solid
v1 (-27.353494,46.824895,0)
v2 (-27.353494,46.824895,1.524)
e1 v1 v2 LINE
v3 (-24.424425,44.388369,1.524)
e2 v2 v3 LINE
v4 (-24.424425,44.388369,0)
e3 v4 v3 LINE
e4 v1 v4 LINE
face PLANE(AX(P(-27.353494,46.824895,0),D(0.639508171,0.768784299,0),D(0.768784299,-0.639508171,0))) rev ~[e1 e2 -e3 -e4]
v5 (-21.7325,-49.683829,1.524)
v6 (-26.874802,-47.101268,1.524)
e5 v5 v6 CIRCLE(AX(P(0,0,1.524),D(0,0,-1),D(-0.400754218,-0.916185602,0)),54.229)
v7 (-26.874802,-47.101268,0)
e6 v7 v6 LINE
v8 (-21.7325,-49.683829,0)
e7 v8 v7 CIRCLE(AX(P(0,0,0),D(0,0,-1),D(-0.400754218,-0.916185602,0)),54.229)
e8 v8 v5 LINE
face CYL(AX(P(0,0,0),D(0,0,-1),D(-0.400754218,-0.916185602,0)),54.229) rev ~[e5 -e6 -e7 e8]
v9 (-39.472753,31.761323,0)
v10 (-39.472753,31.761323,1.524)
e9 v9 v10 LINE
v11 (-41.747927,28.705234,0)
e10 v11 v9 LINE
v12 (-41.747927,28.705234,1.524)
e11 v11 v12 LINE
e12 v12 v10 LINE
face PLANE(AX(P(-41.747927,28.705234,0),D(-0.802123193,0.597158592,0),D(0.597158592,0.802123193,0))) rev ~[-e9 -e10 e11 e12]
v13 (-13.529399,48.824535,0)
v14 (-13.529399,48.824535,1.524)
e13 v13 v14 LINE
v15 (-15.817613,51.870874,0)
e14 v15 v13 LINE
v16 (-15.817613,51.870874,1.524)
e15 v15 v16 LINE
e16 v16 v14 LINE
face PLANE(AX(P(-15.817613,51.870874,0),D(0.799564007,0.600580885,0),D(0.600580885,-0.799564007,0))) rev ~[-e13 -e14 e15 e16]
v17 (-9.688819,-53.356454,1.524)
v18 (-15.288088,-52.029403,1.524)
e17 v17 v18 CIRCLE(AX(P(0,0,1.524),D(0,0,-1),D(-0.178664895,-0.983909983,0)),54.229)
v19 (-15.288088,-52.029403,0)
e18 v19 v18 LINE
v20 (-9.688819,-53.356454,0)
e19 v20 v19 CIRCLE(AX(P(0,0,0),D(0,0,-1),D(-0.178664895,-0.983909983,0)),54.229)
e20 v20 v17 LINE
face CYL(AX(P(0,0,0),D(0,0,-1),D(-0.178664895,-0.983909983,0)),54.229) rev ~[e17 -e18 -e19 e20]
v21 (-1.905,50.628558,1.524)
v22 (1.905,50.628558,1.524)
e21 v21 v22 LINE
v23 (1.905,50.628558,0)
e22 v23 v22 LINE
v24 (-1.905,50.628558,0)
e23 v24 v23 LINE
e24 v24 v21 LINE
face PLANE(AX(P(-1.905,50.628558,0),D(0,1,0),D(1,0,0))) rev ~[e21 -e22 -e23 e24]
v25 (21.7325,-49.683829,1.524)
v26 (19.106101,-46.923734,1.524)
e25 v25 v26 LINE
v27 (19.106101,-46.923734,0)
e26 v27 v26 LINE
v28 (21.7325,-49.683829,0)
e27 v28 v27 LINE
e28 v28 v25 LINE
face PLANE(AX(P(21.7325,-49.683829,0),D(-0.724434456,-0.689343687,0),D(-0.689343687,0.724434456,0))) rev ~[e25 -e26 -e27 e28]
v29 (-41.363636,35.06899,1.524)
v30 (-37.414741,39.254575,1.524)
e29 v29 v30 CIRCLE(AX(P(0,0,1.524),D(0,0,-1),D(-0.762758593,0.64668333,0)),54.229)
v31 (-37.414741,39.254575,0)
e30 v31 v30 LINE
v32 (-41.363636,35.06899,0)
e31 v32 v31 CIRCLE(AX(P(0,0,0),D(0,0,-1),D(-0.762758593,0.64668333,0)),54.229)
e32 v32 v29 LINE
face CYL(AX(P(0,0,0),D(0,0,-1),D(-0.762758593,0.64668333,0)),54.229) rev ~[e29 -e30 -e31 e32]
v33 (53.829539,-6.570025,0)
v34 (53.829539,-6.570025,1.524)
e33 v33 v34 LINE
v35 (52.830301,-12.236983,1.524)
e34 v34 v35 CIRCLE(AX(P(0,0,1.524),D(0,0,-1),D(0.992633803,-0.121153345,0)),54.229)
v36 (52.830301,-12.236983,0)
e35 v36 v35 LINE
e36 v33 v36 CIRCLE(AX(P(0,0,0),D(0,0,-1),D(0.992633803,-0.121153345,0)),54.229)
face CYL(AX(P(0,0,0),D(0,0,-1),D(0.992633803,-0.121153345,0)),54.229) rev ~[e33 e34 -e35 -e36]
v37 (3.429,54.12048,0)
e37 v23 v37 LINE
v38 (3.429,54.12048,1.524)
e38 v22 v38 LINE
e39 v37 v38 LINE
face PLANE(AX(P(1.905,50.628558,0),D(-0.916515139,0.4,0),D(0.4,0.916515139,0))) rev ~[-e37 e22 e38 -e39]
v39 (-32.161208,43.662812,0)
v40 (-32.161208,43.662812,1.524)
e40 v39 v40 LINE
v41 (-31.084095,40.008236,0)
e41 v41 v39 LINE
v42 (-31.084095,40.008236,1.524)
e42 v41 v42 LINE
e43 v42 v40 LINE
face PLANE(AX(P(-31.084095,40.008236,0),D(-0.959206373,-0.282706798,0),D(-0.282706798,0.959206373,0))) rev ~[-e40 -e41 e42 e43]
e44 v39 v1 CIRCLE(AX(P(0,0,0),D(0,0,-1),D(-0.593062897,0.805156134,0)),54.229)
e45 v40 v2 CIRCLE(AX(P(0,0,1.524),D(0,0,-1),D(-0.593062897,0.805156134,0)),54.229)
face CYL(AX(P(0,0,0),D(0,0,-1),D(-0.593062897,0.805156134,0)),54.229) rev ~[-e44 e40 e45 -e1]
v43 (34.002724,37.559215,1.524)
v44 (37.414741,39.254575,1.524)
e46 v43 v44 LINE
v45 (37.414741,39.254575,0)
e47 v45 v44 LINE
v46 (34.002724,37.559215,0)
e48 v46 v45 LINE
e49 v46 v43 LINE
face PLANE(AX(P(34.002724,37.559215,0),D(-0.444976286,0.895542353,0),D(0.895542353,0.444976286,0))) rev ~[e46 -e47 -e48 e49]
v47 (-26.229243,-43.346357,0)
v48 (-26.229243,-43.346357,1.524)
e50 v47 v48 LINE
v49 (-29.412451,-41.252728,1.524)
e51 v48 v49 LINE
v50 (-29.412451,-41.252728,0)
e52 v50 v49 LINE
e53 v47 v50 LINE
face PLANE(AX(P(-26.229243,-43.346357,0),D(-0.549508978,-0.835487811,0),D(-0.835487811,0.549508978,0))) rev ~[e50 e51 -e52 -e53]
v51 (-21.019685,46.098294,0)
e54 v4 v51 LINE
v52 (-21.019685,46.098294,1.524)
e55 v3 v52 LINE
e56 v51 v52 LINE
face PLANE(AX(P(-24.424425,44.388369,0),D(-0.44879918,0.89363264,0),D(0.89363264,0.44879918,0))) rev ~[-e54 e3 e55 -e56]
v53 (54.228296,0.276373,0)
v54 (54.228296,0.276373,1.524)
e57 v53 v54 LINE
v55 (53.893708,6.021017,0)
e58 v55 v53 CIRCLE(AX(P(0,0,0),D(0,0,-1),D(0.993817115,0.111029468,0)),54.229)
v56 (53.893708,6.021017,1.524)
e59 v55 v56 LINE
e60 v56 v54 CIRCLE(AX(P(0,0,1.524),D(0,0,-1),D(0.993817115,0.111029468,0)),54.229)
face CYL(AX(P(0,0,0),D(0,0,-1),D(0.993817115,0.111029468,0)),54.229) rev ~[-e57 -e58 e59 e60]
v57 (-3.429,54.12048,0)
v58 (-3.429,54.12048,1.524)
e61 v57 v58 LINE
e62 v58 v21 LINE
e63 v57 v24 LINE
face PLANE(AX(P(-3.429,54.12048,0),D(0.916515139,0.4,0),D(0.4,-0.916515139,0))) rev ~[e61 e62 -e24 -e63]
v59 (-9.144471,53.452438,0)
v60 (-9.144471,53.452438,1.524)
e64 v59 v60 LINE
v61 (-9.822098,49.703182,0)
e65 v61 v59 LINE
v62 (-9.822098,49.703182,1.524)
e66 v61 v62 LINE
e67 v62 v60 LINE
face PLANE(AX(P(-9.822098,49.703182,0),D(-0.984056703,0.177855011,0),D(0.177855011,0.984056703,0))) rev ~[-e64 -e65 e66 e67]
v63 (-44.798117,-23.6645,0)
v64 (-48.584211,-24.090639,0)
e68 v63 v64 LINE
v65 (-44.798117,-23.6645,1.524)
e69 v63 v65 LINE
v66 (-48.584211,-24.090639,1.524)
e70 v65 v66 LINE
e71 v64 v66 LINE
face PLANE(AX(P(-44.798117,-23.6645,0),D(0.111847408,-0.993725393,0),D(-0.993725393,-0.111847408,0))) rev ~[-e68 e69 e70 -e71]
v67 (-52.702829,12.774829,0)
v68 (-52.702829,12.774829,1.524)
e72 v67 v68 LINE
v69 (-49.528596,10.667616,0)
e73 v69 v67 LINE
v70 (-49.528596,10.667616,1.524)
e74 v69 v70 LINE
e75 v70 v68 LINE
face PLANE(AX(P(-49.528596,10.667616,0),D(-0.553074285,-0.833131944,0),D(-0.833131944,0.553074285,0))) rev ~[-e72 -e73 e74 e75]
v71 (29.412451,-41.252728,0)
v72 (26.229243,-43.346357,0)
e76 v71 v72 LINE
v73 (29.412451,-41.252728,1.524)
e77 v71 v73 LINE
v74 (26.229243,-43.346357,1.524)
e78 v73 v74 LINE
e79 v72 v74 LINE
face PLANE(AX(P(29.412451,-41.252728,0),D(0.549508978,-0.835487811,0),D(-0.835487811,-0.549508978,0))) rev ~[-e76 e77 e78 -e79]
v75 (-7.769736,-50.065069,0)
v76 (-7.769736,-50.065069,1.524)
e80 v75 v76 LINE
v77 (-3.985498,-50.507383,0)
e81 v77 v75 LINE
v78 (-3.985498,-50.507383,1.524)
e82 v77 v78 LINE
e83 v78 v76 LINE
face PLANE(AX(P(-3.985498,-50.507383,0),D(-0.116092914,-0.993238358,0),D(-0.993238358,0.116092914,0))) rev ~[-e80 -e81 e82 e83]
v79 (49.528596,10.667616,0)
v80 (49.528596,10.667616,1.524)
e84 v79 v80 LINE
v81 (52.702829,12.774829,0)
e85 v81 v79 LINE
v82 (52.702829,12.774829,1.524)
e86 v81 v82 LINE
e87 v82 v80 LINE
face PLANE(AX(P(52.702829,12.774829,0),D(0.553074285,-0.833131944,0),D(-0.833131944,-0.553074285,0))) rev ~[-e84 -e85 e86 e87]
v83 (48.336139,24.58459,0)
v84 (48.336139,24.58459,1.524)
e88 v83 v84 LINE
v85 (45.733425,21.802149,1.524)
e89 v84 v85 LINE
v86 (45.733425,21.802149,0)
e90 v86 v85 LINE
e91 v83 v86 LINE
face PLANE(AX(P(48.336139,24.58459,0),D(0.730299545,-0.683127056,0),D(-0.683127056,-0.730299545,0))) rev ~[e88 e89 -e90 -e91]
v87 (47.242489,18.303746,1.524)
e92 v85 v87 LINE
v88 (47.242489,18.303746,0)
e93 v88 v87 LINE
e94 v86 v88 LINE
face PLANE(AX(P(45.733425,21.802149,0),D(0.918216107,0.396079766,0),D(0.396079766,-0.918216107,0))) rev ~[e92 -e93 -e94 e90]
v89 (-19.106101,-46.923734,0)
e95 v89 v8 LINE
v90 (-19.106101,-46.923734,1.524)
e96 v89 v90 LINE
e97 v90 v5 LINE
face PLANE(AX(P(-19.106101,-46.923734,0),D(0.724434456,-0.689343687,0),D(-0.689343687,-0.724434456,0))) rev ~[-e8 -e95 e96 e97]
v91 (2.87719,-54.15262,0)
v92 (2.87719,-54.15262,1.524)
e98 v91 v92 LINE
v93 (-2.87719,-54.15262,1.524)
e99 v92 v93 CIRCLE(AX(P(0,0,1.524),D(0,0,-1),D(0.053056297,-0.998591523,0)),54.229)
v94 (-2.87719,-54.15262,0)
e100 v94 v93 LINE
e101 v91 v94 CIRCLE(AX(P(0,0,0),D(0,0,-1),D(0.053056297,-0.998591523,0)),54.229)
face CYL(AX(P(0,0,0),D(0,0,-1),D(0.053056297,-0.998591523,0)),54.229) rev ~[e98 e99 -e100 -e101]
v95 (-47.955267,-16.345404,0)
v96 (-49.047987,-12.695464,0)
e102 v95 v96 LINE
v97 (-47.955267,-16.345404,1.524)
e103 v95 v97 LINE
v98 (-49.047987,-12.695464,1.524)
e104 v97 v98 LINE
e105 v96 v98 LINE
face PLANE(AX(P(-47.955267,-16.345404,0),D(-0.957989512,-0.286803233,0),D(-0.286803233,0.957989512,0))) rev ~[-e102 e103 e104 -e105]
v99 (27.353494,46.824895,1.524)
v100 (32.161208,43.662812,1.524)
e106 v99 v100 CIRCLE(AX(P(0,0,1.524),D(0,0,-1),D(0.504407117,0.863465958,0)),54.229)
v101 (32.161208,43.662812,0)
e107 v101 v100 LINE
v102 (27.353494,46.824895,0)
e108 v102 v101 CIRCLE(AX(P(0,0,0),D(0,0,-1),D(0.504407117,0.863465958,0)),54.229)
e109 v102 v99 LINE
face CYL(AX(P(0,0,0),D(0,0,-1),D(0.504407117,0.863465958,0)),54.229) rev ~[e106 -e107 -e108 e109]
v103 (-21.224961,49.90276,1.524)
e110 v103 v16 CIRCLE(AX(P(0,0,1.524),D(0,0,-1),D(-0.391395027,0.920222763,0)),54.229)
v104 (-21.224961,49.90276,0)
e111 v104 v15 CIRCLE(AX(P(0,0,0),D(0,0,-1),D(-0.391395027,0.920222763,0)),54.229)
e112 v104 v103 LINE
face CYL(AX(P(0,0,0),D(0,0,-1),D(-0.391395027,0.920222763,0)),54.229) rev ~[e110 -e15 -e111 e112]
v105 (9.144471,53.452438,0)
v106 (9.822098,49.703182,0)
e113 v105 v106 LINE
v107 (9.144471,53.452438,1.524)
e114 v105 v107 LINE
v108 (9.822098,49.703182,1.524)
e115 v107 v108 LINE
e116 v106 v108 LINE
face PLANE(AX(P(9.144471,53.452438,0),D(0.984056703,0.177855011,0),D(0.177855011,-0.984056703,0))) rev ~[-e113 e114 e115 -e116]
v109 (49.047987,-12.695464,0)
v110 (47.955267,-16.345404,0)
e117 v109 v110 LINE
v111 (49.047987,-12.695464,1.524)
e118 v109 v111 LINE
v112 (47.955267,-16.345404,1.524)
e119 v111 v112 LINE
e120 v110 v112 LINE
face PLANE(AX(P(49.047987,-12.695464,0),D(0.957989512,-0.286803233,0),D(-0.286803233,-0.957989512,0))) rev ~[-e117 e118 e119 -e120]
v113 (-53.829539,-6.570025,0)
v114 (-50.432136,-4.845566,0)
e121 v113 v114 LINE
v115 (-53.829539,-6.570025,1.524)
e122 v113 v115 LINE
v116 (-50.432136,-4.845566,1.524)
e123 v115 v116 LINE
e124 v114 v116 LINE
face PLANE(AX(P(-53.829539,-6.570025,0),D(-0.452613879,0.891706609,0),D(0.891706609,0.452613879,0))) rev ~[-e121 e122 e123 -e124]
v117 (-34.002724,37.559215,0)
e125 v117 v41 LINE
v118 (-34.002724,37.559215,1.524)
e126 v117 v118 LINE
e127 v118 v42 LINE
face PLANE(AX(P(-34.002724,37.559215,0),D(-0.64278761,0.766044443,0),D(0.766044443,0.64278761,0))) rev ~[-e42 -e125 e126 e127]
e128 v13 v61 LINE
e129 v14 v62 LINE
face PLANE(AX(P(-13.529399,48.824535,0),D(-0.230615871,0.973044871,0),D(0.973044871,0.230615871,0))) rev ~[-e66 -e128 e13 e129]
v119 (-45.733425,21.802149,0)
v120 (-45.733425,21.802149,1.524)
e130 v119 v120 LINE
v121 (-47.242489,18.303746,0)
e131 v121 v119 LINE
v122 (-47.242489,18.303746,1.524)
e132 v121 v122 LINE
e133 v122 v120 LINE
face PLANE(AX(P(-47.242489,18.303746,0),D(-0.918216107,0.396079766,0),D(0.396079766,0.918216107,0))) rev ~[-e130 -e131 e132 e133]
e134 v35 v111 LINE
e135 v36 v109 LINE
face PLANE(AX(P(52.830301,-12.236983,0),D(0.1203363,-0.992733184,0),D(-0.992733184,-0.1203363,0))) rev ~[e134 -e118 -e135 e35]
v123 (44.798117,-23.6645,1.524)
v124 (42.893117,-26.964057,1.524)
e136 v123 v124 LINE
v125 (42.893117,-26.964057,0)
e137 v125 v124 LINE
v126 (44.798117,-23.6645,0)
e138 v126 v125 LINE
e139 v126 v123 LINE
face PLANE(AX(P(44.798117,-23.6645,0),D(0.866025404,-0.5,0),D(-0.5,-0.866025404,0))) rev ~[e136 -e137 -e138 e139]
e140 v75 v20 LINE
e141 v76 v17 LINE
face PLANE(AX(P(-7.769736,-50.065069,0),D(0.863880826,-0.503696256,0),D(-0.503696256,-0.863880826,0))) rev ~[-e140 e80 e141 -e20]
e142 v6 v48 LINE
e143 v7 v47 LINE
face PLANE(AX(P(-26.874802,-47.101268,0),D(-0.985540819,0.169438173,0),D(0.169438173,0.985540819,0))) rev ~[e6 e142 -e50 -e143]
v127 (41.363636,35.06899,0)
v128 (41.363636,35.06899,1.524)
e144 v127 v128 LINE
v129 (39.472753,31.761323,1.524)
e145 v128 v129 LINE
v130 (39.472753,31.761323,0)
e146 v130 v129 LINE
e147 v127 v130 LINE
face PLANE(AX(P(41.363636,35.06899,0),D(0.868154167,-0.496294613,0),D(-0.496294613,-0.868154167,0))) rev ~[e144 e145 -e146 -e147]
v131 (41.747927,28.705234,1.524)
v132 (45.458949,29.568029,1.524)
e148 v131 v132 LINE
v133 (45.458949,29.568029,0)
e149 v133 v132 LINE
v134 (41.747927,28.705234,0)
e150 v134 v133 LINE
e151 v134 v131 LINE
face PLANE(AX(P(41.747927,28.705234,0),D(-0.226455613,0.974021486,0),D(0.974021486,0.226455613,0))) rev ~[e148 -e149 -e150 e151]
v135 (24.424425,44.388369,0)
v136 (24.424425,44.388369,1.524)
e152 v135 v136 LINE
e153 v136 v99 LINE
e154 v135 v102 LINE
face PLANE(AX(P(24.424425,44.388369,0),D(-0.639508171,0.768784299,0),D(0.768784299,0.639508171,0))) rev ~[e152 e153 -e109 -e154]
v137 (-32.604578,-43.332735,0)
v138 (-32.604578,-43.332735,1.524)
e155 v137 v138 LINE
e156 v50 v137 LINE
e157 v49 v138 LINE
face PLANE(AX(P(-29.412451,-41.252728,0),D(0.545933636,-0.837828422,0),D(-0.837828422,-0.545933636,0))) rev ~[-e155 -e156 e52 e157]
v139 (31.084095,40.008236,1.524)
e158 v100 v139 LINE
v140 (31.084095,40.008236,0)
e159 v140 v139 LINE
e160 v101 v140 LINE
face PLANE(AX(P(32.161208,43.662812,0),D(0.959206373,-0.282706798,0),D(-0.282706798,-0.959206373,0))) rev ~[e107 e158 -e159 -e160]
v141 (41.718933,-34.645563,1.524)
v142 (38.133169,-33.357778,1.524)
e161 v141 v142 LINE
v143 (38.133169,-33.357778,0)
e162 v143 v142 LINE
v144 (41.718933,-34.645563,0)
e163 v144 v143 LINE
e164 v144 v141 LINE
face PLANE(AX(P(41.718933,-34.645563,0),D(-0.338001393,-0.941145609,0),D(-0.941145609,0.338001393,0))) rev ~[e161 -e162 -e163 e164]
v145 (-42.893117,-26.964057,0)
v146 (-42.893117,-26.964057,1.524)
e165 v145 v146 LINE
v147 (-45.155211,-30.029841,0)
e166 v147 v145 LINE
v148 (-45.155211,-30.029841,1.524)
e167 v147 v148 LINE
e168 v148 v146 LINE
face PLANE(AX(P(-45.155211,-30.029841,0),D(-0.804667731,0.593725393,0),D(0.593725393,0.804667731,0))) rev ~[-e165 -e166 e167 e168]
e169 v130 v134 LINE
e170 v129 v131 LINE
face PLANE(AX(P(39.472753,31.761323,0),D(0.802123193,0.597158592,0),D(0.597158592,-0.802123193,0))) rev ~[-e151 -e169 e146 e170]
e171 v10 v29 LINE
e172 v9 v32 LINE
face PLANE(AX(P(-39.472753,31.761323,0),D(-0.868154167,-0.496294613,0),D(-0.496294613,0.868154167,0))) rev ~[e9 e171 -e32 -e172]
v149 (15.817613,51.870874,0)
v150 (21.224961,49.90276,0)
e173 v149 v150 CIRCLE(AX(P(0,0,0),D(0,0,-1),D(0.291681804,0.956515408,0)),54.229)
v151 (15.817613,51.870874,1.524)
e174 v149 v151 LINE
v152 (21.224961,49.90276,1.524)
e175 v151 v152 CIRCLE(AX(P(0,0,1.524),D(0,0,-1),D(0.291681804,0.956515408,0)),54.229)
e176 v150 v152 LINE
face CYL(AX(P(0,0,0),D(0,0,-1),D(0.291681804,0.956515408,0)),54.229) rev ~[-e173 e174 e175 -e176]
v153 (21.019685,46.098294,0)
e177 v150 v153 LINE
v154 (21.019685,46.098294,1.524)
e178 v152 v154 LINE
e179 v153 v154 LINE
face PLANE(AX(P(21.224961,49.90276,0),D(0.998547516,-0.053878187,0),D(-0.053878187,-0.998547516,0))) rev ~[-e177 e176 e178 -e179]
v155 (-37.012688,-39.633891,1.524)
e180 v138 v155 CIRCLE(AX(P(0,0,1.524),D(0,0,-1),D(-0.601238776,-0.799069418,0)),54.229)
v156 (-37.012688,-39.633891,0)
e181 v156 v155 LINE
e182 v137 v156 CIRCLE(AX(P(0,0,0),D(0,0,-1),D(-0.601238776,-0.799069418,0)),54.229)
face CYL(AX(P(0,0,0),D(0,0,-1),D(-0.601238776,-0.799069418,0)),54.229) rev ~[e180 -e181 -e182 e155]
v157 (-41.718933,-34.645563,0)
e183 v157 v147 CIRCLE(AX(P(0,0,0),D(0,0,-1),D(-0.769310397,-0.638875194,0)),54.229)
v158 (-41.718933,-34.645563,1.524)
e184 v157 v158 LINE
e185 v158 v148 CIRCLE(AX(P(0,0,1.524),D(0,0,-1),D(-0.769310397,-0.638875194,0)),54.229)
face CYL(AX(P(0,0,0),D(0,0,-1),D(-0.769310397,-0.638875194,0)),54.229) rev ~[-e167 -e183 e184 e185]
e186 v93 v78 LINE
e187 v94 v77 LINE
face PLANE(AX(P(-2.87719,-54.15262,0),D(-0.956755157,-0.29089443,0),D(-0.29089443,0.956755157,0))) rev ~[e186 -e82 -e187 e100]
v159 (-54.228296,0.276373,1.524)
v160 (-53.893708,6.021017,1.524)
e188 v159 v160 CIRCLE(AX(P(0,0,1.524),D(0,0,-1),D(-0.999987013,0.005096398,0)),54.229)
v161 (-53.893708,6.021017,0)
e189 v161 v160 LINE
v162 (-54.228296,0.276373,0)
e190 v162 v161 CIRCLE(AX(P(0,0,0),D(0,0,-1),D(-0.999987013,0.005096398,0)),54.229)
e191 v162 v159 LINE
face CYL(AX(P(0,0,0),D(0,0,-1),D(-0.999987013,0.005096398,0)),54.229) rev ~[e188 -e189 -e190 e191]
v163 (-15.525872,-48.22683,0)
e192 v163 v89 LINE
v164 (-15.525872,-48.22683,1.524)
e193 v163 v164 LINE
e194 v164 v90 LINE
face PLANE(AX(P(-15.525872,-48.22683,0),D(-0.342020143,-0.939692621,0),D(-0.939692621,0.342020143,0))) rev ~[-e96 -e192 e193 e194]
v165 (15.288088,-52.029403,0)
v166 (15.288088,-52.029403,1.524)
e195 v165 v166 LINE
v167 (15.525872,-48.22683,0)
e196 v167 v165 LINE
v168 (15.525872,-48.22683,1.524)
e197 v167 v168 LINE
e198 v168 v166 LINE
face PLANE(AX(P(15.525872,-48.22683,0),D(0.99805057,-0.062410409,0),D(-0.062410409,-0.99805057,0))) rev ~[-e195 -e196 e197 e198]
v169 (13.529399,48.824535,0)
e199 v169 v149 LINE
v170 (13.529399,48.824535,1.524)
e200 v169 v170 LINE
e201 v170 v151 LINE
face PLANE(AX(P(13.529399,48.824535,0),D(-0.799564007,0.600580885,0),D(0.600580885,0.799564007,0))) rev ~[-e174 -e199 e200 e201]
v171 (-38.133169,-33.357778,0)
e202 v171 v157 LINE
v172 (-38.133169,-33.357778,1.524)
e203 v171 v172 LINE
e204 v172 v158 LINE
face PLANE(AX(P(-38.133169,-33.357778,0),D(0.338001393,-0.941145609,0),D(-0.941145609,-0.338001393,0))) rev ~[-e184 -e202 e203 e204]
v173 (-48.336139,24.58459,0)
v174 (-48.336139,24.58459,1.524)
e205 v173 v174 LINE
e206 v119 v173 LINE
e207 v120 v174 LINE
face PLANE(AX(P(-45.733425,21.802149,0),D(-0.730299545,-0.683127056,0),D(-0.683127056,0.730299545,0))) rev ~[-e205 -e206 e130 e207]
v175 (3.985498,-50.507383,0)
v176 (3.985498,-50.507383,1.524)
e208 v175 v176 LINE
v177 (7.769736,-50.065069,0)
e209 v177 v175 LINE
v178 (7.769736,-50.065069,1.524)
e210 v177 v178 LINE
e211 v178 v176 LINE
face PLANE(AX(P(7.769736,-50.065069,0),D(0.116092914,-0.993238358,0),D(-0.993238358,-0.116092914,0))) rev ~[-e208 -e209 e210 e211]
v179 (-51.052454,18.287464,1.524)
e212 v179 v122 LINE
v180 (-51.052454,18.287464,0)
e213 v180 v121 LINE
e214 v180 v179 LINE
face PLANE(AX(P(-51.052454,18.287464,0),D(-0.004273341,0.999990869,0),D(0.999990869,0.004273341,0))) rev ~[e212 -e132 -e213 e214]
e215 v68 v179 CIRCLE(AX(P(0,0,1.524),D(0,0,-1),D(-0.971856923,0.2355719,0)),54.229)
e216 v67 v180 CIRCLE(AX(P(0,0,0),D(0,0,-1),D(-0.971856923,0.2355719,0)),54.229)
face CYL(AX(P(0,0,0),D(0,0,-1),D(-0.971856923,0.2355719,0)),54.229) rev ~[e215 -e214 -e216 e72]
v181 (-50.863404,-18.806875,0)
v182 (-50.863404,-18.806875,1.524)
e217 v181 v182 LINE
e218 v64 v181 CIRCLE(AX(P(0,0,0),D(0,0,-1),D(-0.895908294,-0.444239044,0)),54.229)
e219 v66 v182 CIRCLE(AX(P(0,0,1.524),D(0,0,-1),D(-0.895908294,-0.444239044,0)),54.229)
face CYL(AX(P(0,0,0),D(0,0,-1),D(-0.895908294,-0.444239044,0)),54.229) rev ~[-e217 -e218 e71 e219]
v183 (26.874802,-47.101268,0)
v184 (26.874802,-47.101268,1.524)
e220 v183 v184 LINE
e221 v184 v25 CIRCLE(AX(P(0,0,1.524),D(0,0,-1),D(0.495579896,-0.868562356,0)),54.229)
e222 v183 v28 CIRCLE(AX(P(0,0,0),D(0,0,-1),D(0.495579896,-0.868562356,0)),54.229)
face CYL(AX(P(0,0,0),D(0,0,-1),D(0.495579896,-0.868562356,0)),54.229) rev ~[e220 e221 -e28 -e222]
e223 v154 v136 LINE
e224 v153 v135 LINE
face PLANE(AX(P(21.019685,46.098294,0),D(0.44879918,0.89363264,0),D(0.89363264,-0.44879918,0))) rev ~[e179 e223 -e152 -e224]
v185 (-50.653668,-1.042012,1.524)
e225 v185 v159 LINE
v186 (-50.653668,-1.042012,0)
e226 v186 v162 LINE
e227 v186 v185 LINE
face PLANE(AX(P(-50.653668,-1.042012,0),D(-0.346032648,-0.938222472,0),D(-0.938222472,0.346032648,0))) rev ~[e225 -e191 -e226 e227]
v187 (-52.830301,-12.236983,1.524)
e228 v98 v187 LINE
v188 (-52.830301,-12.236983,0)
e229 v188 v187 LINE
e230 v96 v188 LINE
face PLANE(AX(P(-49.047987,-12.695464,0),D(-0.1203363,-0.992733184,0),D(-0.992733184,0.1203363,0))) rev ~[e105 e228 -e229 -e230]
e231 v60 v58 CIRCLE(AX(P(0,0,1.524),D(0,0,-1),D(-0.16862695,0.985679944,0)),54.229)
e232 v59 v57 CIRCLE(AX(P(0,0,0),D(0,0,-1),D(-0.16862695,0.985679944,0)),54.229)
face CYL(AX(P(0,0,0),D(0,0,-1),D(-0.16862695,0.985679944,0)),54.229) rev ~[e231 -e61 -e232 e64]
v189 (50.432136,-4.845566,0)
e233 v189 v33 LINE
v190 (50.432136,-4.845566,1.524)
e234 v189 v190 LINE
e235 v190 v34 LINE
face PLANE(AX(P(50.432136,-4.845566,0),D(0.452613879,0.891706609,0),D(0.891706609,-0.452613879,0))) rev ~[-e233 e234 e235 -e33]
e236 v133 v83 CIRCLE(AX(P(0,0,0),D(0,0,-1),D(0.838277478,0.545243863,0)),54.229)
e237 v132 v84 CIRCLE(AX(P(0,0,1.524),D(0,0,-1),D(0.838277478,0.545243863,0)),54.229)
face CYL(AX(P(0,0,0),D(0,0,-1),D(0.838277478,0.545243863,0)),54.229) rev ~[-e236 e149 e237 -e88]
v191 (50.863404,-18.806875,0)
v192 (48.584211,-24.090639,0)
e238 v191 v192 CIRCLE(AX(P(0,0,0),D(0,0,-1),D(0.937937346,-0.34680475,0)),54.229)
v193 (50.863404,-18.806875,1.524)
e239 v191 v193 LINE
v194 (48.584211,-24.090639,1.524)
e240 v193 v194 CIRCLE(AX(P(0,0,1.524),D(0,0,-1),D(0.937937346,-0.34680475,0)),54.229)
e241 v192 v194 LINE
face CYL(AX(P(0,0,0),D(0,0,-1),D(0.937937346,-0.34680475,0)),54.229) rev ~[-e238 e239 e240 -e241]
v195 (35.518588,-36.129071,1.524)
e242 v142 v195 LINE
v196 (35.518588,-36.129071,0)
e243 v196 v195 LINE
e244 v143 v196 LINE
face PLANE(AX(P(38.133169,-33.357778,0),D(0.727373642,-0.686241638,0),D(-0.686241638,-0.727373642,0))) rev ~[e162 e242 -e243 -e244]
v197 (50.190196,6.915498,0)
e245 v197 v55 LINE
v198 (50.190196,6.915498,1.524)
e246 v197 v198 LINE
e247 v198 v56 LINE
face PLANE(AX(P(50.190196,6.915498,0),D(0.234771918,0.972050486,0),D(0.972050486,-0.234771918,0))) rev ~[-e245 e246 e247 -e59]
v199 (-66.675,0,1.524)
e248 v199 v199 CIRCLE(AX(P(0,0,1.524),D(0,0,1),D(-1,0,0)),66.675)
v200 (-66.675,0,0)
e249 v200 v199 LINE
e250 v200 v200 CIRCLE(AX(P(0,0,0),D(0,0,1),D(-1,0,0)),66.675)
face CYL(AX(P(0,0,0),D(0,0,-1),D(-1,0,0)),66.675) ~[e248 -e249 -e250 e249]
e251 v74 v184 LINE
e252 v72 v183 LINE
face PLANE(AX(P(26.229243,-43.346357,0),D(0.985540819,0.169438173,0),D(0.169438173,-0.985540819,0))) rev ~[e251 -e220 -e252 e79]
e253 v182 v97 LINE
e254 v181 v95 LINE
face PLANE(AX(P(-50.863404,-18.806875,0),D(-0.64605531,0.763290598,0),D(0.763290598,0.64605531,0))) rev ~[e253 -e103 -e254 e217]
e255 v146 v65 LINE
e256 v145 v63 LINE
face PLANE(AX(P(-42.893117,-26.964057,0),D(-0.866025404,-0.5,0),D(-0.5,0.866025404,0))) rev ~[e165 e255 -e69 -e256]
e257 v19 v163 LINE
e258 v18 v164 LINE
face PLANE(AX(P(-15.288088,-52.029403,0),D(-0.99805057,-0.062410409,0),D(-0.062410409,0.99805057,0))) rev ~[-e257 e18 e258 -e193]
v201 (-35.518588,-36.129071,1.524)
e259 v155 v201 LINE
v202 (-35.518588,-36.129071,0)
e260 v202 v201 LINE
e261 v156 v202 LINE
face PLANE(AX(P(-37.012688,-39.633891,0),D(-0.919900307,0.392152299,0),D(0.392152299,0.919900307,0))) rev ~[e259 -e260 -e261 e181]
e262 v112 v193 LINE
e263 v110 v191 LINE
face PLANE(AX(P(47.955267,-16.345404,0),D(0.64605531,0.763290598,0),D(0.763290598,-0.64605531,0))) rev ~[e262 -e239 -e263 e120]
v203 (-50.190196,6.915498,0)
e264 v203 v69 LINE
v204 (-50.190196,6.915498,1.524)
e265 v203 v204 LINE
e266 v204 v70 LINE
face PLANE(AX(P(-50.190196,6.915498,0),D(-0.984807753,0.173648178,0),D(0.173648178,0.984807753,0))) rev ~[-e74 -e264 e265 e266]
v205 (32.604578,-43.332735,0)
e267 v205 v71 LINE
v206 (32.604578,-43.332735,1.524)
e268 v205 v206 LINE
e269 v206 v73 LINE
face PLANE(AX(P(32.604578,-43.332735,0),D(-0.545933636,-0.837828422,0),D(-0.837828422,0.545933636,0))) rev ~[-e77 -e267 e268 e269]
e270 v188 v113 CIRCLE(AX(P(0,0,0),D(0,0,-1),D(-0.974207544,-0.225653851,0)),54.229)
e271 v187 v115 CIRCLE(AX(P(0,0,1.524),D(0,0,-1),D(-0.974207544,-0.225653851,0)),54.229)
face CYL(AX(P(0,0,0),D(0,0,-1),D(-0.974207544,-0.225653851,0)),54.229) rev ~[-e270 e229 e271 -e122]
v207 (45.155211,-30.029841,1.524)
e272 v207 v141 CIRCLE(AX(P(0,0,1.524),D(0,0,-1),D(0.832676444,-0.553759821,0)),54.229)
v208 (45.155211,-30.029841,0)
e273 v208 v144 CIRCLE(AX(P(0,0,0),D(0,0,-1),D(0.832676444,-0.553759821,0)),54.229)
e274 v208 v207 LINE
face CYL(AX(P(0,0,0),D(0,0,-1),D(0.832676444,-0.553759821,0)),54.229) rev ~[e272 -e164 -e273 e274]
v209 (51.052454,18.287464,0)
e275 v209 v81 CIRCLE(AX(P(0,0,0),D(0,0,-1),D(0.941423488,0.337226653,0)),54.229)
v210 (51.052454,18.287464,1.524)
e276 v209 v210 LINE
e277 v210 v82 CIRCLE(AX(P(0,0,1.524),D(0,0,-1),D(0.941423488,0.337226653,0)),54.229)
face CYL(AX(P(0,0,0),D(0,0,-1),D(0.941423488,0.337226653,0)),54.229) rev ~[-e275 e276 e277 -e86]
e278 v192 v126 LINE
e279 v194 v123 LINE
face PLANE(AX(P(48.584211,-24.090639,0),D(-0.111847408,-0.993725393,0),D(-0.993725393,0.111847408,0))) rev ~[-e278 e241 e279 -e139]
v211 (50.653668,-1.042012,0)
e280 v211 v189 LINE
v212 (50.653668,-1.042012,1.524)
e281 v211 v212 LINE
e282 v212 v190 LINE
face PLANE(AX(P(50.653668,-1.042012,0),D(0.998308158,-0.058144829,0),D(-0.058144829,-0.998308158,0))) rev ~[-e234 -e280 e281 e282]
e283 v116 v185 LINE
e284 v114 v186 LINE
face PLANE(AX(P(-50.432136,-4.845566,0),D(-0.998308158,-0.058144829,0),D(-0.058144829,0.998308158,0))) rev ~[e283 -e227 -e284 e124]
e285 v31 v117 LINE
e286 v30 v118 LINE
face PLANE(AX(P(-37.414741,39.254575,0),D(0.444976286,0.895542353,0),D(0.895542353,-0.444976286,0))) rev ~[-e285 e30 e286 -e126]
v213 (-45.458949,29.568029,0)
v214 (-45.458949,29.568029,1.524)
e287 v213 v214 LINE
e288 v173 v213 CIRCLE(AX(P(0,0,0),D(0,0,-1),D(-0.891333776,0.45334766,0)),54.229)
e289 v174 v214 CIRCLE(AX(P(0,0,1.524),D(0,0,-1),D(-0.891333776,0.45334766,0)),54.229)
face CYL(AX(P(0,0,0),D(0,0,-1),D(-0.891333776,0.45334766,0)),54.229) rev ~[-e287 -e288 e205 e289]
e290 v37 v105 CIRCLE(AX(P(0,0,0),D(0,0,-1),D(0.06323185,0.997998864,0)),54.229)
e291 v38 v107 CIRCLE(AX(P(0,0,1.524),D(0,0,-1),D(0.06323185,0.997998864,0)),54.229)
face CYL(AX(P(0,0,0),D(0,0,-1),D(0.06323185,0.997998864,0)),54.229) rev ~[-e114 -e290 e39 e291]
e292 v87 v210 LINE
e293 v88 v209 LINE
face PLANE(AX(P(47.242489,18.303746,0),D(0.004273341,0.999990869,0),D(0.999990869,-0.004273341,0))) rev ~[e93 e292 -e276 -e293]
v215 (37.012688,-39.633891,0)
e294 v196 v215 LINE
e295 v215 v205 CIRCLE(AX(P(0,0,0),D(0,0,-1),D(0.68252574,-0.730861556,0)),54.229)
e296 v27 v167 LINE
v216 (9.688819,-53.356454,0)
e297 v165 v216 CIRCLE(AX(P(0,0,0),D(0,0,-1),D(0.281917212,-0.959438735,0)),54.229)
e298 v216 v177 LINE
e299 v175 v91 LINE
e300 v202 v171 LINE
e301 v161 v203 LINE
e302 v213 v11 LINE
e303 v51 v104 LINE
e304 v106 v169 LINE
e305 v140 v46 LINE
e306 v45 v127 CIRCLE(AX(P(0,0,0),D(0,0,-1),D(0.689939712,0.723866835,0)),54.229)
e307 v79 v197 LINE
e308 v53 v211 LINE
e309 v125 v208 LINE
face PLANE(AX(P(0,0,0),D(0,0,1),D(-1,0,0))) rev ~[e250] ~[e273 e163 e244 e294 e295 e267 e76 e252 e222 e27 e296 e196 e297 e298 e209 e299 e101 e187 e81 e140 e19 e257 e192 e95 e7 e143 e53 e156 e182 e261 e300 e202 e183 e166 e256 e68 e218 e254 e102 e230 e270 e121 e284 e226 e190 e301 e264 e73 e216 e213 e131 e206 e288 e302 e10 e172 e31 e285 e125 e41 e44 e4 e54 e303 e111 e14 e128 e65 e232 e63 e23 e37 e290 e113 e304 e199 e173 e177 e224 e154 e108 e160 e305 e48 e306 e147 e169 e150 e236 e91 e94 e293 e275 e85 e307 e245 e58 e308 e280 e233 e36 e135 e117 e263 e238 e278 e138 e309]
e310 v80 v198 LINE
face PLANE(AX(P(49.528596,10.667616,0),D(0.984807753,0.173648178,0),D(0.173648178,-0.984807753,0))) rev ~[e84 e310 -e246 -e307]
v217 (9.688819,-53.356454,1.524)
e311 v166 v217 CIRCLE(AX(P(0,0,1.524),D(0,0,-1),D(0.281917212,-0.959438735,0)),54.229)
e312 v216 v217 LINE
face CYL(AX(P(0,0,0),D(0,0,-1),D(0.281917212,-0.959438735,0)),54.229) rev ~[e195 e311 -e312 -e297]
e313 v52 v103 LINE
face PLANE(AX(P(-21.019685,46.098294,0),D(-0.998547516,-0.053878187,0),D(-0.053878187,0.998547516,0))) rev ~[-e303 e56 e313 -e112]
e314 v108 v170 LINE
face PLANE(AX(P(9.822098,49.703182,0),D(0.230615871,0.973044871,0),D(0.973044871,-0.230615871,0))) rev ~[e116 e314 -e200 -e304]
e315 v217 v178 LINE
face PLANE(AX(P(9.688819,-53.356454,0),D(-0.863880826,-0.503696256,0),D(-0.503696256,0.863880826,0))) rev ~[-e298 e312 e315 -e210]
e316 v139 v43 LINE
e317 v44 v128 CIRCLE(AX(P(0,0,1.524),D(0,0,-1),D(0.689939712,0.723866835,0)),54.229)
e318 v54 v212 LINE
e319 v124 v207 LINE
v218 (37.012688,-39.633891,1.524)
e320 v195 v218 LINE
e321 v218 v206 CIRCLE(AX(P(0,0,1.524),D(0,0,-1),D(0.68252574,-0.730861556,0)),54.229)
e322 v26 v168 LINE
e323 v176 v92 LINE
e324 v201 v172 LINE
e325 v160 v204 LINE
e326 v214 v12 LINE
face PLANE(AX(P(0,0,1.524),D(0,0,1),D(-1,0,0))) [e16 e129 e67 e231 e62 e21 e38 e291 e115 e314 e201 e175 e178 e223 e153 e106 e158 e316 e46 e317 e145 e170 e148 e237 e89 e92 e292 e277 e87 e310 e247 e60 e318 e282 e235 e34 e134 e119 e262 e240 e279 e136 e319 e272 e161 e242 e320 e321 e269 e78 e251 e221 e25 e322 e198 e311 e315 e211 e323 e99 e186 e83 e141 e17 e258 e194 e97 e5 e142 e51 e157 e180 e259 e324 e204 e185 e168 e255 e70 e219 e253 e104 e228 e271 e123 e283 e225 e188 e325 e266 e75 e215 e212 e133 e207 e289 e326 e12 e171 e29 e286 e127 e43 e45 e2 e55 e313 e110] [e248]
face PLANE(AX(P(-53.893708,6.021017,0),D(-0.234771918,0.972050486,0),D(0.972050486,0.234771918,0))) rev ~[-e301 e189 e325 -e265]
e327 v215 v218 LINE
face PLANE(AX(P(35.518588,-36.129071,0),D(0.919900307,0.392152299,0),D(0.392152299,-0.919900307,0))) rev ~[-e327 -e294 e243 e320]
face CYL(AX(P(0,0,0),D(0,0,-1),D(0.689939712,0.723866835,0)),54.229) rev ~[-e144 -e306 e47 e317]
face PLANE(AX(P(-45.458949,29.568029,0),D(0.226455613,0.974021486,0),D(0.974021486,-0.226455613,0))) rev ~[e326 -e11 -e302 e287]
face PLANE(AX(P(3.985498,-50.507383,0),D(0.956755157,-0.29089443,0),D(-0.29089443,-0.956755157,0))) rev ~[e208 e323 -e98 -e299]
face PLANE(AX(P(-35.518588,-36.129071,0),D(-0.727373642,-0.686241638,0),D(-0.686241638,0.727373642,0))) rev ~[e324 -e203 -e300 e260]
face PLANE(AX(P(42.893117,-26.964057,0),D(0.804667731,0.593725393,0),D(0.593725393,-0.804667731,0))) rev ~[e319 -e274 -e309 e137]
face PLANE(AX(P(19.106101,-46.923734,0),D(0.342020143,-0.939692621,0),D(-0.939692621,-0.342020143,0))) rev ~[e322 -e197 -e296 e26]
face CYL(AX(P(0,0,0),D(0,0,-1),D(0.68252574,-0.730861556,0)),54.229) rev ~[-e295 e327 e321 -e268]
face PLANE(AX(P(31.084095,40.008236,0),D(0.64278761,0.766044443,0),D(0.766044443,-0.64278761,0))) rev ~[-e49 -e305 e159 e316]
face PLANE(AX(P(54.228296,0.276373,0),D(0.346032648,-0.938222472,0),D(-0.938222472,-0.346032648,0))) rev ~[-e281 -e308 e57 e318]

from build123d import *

# Parameters (mm, degrees)
SKETCH1_R           = 66.675
BOSS_EXTRUDE1_DEPTH = 1.524


with BuildPart() as part:
    # Sketch1 → Boss-Extrude1 (new body)
    with BuildSketch(Plane.XY):
        with Locations(Location((0, 0, 0), (0, 0, 180))):
            Circle(SKETCH1_R)
        with BuildLine():
            Line((-3.429, 54.120480412), (-1.905, 50.628557732))
            Line((-1.905, 50.628557732), (1.905, 50.628557732))
            Line((1.905, 50.628557732), (3.429, 54.120480412))
            ThreePointArc((3.429, 54.120480412), (6.29560264, 53.862322902), (9.144470854, 53.452437679))
            Line((9.144470854, 53.452437679), (9.822098447, 49.70318164))
            Line((9.822098447, 49.70318164), (13.529399404, 48.824535172))
            Line((13.529399404, 48.824535172), (15.817612576, 51.870874037))
            ThreePointArc((15.817612576, 51.870874037), (18.547410352, 50.958591133), (21.224960917, 49.902760195))
            Line((21.224960917, 49.902760195), (21.019685025, 46.09829416))
            Line((21.019685025, 46.09829416), (24.424425385, 44.388369284))
            Line((24.424425385, 44.388369284), (27.353493565, 46.824895417))
            ThreePointArc((27.353493565, 46.824895417), (29.799322372, 45.307668525), (32.161207844, 43.662811992))
            Line((32.161207844, 43.662811992), (31.084094942, 40.00823571))
            Line((31.084094942, 40.00823571), (34.002724271, 37.559214917))
            Line((34.002724271, 37.559214917), (37.414740634, 39.254574565))
            ThreePointArc((37.414740634, 39.254574565), (39.444745209, 37.21419778), (41.36363573, 35.068990293))
            Line((41.36363573, 35.068990293), (39.472753256, 31.761322918))
            Line((39.472753256, 31.761322918), (41.74792749, 28.705233553))
            Line((41.74792749, 28.705233553), (45.458949352, 29.568029437))
            ThreePointArc((45.458949352, 29.568029437), (46.963691622, 27.1145), (48.336139308, 24.58459025))
            Line((48.336139308, 24.58459025), (45.733425224, 21.802148985))
            Line((45.733425224, 21.802148985), (47.242489132, 18.303745618))
            Line((47.242489132, 18.303745618), (51.052454344, 18.287464189))
            ThreePointArc((51.052454344, 18.287464189), (51.950813263, 15.553052507), (52.702829105, 12.774828583))
            Line((52.702829105, 12.774828583), (49.5285964, 10.667615558))
            Line((49.5285964, 10.667615558), (50.190195957, 6.915498019))
            Line((50.190195957, 6.915498019), (53.893708307, 6.021017013))
            ThreePointArc((53.893708307, 6.021017013), (54.137253115, 3.153135927), (54.228295743, 0.276372601))
            Line((54.228295743, 0.276372601), (50.653668125, -1.042011786))
            Line((50.653668125, -1.042011786), (50.432136326, -4.845565869))
            Line((50.432136326, -4.845565869), (53.829538506, -6.570024749))
            ThreePointArc((53.829538506, -6.570024749), (53.405139638, -9.416767027), (52.830300921, -12.2369827))
            Line((52.830300921, -12.2369827), (49.047987489, -12.695464004))
            Line((49.047987489, -12.695464004), (47.955267173, -16.345404046))
            Line((47.955267173, -16.345404046), (50.863404351, -18.806874776))
            ThreePointArc((50.863404351, -18.806874776), (49.79394126, -21.479009633), (48.584210902, -24.090639096))
            Line((48.584210902, -24.090639096), (44.798117153, -23.664500472))
            Line((44.798117153, -23.664500472), (42.893117153, -26.96405726))
            Line((42.893117153, -26.96405726), (45.155210902, -30.029841315))
            ThreePointArc((45.155210902, -30.029841315), (43.49833862, -32.383313269), (41.718933497, -34.645562903))
            Line((41.718933497, -34.645562903), (38.133168725, -33.357777594))
            Line((38.133168725, -33.357777594), (35.518588085, -36.129071168))
            Line((35.518588085, -36.129071168), (37.012688345, -39.633891337))
            ThreePointArc((37.012688345, -39.633891337), (34.857729286, -41.541824106), (32.604577589, -43.332735446))
            Line((32.604577589, -43.332735446), (29.412451301, -41.252728291))
            Line((29.412451301, -41.252728291), (26.22924274, -43.346357498))
            Line((26.22924274, -43.346357498), (26.874802178, -47.101268018))
            ThreePointArc((26.874802178, -47.101268018), (24.337930743, -48.460804452), (21.732500464, -49.683829005))
            Line((21.732500464, -49.683829005), (19.106101015, -46.923733729))
            Line((19.106101015, -46.923733729), (15.525872129, -48.226830475))
            Line((15.525872129, -48.226830475), (15.288088471, -52.029403148))
            ThreePointArc((15.288088471, -52.029403148), (12.506068054, -52.767250287), (9.688818614, -53.356454482))
            Line((9.688818614, -53.356454482), (7.769735877, -50.065068535))
            Line((7.769735877, -50.065068535), (3.985497734, -50.507382538))
            Line((3.985497734, -50.507382538), (2.877189956, -54.152619687))
            ThreePointArc((2.877189956, -54.152619687), (0, -54.229), (-2.877189956, -54.152619687))
            Line((-2.877189956, -54.152619687), (-3.985497734, -50.507382538))
            Line((-3.985497734, -50.507382538), (-7.769735877, -50.065068535))
            Line((-7.769735877, -50.065068535), (-9.688818614, -53.356454482))
            ThreePointArc((-9.688818614, -53.356454482), (-12.506068054, -52.767250287), (-15.288088471, -52.029403148))
            Line((-15.288088471, -52.029403148), (-15.525872129, -48.226830475))
            Line((-15.525872129, -48.226830475), (-19.106101015, -46.923733729))
            Line((-19.106101015, -46.923733729), (-21.732500464, -49.683829005))
            ThreePointArc((-21.732500464, -49.683829005), (-24.337930743, -48.460804452), (-26.874802178, -47.101268018))
            Line((-26.874802178, -47.101268018), (-26.22924274, -43.346357498))
            Line((-26.22924274, -43.346357498), (-29.412451301, -41.252728291))
            Line((-29.412451301, -41.252728291), (-32.604577589, -43.332735446))
            ThreePointArc((-32.604577589, -43.332735446), (-34.857729286, -41.541824106), (-37.012688345, -39.633891337))
            Line((-37.012688345, -39.633891337), (-35.518588085, -36.129071168))
            Line((-35.518588085, -36.129071168), (-38.133168725, -33.357777594))
            Line((-38.133168725, -33.357777594), (-41.718933497, -34.645562903))
            ThreePointArc((-41.718933497, -34.645562903), (-43.49833862, -32.383313269), (-45.155210902, -30.029841315))
            Line((-45.155210902, -30.029841315), (-42.893117153, -26.96405726))
            Line((-42.893117153, -26.96405726), (-44.798117153, -23.664500472))
            Line((-44.798117153, -23.664500472), (-48.584210902, -24.090639096))
            ThreePointArc((-48.584210902, -24.090639096), (-49.79394126, -21.479009633), (-50.863404351, -18.806874776))
            Line((-50.863404351, -18.806874776), (-47.955267173, -16.345404046))
            Line((-47.955267173, -16.345404046), (-49.047987489, -12.695464004))
            Line((-49.047987489, -12.695464004), (-52.830300921, -12.2369827))
            ThreePointArc((-52.830300921, -12.2369827), (-53.405139638, -9.416767027), (-53.829538506, -6.570024749))
            Line((-53.829538506, -6.570024749), (-50.432136326, -4.845565869))
            Line((-50.432136326, -4.845565869), (-50.653668125, -1.042011786))
            Line((-50.653668125, -1.042011786), (-54.228295743, 0.276372601))
            ThreePointArc((-54.228295743, 0.276372601), (-54.137253115, 3.153135927), (-53.893708307, 6.021017013))
            Line((-53.893708307, 6.021017013), (-50.190195957, 6.915498019))
            Line((-50.190195957, 6.915498019), (-49.5285964, 10.667615558))
            Line((-49.5285964, 10.667615558), (-52.702829105, 12.774828583))
            ThreePointArc((-52.702829105, 12.774828583), (-51.950813263, 15.553052507), (-51.052454344, 18.287464189))
            Line((-51.052454344, 18.287464189), (-47.242489132, 18.303745618))
            Line((-47.242489132, 18.303745618), (-45.733425224, 21.802148985))
            Line((-45.733425224, 21.802148985), (-48.336139308, 24.58459025))
            ThreePointArc((-48.336139308, 24.58459025), (-46.963691622, 27.1145), (-45.458949352, 29.568029437))
            Line((-45.458949352, 29.568029437), (-41.74792749, 28.705233553))
            Line((-41.74792749, 28.705233553), (-39.472753256, 31.761322918))
            Line((-39.472753256, 31.761322918), (-41.36363573, 35.068990293))
            ThreePointArc((-41.36363573, 35.068990293), (-39.444745209, 37.21419778), (-37.414740634, 39.254574565))
            Line((-37.414740634, 39.254574565), (-34.002724271, 37.559214917))
            Line((-34.002724271, 37.559214917), (-31.084094942, 40.00823571))
            Line((-31.084094942, 40.00823571), (-32.161207844, 43.662811992))
            ThreePointArc((-32.161207844, 43.662811992), (-29.799322372, 45.307668525), (-27.353493565, 46.824895417))
            Line((-27.353493565, 46.824895417), (-24.424425385, 44.388369284))
            Line((-24.424425385, 44.388369284), (-21.019685025, 46.09829416))
            Line((-21.019685025, 46.09829416), (-21.224960917, 49.902760195))
            ThreePointArc((-21.224960917, 49.902760195), (-18.547410352, 50.958591133), (-15.817612576, 51.870874037))
            Line((-15.817612576, 51.870874037), (-13.529399404, 48.824535172))
            Line((-13.529399404, 48.824535172), (-9.822098447, 49.70318164))
            Line((-9.822098447, 49.70318164), (-9.144470854, 53.452437679))
            ThreePointArc((-9.144470854, 53.452437679), (-6.29560264, 53.862322902), (-3.429, 54.120480412))
        make_face(mode=Mode.SUBTRACT)
    extrude(amount=BOSS_EXTRUDE1_DEPTH)


solid = part.part
